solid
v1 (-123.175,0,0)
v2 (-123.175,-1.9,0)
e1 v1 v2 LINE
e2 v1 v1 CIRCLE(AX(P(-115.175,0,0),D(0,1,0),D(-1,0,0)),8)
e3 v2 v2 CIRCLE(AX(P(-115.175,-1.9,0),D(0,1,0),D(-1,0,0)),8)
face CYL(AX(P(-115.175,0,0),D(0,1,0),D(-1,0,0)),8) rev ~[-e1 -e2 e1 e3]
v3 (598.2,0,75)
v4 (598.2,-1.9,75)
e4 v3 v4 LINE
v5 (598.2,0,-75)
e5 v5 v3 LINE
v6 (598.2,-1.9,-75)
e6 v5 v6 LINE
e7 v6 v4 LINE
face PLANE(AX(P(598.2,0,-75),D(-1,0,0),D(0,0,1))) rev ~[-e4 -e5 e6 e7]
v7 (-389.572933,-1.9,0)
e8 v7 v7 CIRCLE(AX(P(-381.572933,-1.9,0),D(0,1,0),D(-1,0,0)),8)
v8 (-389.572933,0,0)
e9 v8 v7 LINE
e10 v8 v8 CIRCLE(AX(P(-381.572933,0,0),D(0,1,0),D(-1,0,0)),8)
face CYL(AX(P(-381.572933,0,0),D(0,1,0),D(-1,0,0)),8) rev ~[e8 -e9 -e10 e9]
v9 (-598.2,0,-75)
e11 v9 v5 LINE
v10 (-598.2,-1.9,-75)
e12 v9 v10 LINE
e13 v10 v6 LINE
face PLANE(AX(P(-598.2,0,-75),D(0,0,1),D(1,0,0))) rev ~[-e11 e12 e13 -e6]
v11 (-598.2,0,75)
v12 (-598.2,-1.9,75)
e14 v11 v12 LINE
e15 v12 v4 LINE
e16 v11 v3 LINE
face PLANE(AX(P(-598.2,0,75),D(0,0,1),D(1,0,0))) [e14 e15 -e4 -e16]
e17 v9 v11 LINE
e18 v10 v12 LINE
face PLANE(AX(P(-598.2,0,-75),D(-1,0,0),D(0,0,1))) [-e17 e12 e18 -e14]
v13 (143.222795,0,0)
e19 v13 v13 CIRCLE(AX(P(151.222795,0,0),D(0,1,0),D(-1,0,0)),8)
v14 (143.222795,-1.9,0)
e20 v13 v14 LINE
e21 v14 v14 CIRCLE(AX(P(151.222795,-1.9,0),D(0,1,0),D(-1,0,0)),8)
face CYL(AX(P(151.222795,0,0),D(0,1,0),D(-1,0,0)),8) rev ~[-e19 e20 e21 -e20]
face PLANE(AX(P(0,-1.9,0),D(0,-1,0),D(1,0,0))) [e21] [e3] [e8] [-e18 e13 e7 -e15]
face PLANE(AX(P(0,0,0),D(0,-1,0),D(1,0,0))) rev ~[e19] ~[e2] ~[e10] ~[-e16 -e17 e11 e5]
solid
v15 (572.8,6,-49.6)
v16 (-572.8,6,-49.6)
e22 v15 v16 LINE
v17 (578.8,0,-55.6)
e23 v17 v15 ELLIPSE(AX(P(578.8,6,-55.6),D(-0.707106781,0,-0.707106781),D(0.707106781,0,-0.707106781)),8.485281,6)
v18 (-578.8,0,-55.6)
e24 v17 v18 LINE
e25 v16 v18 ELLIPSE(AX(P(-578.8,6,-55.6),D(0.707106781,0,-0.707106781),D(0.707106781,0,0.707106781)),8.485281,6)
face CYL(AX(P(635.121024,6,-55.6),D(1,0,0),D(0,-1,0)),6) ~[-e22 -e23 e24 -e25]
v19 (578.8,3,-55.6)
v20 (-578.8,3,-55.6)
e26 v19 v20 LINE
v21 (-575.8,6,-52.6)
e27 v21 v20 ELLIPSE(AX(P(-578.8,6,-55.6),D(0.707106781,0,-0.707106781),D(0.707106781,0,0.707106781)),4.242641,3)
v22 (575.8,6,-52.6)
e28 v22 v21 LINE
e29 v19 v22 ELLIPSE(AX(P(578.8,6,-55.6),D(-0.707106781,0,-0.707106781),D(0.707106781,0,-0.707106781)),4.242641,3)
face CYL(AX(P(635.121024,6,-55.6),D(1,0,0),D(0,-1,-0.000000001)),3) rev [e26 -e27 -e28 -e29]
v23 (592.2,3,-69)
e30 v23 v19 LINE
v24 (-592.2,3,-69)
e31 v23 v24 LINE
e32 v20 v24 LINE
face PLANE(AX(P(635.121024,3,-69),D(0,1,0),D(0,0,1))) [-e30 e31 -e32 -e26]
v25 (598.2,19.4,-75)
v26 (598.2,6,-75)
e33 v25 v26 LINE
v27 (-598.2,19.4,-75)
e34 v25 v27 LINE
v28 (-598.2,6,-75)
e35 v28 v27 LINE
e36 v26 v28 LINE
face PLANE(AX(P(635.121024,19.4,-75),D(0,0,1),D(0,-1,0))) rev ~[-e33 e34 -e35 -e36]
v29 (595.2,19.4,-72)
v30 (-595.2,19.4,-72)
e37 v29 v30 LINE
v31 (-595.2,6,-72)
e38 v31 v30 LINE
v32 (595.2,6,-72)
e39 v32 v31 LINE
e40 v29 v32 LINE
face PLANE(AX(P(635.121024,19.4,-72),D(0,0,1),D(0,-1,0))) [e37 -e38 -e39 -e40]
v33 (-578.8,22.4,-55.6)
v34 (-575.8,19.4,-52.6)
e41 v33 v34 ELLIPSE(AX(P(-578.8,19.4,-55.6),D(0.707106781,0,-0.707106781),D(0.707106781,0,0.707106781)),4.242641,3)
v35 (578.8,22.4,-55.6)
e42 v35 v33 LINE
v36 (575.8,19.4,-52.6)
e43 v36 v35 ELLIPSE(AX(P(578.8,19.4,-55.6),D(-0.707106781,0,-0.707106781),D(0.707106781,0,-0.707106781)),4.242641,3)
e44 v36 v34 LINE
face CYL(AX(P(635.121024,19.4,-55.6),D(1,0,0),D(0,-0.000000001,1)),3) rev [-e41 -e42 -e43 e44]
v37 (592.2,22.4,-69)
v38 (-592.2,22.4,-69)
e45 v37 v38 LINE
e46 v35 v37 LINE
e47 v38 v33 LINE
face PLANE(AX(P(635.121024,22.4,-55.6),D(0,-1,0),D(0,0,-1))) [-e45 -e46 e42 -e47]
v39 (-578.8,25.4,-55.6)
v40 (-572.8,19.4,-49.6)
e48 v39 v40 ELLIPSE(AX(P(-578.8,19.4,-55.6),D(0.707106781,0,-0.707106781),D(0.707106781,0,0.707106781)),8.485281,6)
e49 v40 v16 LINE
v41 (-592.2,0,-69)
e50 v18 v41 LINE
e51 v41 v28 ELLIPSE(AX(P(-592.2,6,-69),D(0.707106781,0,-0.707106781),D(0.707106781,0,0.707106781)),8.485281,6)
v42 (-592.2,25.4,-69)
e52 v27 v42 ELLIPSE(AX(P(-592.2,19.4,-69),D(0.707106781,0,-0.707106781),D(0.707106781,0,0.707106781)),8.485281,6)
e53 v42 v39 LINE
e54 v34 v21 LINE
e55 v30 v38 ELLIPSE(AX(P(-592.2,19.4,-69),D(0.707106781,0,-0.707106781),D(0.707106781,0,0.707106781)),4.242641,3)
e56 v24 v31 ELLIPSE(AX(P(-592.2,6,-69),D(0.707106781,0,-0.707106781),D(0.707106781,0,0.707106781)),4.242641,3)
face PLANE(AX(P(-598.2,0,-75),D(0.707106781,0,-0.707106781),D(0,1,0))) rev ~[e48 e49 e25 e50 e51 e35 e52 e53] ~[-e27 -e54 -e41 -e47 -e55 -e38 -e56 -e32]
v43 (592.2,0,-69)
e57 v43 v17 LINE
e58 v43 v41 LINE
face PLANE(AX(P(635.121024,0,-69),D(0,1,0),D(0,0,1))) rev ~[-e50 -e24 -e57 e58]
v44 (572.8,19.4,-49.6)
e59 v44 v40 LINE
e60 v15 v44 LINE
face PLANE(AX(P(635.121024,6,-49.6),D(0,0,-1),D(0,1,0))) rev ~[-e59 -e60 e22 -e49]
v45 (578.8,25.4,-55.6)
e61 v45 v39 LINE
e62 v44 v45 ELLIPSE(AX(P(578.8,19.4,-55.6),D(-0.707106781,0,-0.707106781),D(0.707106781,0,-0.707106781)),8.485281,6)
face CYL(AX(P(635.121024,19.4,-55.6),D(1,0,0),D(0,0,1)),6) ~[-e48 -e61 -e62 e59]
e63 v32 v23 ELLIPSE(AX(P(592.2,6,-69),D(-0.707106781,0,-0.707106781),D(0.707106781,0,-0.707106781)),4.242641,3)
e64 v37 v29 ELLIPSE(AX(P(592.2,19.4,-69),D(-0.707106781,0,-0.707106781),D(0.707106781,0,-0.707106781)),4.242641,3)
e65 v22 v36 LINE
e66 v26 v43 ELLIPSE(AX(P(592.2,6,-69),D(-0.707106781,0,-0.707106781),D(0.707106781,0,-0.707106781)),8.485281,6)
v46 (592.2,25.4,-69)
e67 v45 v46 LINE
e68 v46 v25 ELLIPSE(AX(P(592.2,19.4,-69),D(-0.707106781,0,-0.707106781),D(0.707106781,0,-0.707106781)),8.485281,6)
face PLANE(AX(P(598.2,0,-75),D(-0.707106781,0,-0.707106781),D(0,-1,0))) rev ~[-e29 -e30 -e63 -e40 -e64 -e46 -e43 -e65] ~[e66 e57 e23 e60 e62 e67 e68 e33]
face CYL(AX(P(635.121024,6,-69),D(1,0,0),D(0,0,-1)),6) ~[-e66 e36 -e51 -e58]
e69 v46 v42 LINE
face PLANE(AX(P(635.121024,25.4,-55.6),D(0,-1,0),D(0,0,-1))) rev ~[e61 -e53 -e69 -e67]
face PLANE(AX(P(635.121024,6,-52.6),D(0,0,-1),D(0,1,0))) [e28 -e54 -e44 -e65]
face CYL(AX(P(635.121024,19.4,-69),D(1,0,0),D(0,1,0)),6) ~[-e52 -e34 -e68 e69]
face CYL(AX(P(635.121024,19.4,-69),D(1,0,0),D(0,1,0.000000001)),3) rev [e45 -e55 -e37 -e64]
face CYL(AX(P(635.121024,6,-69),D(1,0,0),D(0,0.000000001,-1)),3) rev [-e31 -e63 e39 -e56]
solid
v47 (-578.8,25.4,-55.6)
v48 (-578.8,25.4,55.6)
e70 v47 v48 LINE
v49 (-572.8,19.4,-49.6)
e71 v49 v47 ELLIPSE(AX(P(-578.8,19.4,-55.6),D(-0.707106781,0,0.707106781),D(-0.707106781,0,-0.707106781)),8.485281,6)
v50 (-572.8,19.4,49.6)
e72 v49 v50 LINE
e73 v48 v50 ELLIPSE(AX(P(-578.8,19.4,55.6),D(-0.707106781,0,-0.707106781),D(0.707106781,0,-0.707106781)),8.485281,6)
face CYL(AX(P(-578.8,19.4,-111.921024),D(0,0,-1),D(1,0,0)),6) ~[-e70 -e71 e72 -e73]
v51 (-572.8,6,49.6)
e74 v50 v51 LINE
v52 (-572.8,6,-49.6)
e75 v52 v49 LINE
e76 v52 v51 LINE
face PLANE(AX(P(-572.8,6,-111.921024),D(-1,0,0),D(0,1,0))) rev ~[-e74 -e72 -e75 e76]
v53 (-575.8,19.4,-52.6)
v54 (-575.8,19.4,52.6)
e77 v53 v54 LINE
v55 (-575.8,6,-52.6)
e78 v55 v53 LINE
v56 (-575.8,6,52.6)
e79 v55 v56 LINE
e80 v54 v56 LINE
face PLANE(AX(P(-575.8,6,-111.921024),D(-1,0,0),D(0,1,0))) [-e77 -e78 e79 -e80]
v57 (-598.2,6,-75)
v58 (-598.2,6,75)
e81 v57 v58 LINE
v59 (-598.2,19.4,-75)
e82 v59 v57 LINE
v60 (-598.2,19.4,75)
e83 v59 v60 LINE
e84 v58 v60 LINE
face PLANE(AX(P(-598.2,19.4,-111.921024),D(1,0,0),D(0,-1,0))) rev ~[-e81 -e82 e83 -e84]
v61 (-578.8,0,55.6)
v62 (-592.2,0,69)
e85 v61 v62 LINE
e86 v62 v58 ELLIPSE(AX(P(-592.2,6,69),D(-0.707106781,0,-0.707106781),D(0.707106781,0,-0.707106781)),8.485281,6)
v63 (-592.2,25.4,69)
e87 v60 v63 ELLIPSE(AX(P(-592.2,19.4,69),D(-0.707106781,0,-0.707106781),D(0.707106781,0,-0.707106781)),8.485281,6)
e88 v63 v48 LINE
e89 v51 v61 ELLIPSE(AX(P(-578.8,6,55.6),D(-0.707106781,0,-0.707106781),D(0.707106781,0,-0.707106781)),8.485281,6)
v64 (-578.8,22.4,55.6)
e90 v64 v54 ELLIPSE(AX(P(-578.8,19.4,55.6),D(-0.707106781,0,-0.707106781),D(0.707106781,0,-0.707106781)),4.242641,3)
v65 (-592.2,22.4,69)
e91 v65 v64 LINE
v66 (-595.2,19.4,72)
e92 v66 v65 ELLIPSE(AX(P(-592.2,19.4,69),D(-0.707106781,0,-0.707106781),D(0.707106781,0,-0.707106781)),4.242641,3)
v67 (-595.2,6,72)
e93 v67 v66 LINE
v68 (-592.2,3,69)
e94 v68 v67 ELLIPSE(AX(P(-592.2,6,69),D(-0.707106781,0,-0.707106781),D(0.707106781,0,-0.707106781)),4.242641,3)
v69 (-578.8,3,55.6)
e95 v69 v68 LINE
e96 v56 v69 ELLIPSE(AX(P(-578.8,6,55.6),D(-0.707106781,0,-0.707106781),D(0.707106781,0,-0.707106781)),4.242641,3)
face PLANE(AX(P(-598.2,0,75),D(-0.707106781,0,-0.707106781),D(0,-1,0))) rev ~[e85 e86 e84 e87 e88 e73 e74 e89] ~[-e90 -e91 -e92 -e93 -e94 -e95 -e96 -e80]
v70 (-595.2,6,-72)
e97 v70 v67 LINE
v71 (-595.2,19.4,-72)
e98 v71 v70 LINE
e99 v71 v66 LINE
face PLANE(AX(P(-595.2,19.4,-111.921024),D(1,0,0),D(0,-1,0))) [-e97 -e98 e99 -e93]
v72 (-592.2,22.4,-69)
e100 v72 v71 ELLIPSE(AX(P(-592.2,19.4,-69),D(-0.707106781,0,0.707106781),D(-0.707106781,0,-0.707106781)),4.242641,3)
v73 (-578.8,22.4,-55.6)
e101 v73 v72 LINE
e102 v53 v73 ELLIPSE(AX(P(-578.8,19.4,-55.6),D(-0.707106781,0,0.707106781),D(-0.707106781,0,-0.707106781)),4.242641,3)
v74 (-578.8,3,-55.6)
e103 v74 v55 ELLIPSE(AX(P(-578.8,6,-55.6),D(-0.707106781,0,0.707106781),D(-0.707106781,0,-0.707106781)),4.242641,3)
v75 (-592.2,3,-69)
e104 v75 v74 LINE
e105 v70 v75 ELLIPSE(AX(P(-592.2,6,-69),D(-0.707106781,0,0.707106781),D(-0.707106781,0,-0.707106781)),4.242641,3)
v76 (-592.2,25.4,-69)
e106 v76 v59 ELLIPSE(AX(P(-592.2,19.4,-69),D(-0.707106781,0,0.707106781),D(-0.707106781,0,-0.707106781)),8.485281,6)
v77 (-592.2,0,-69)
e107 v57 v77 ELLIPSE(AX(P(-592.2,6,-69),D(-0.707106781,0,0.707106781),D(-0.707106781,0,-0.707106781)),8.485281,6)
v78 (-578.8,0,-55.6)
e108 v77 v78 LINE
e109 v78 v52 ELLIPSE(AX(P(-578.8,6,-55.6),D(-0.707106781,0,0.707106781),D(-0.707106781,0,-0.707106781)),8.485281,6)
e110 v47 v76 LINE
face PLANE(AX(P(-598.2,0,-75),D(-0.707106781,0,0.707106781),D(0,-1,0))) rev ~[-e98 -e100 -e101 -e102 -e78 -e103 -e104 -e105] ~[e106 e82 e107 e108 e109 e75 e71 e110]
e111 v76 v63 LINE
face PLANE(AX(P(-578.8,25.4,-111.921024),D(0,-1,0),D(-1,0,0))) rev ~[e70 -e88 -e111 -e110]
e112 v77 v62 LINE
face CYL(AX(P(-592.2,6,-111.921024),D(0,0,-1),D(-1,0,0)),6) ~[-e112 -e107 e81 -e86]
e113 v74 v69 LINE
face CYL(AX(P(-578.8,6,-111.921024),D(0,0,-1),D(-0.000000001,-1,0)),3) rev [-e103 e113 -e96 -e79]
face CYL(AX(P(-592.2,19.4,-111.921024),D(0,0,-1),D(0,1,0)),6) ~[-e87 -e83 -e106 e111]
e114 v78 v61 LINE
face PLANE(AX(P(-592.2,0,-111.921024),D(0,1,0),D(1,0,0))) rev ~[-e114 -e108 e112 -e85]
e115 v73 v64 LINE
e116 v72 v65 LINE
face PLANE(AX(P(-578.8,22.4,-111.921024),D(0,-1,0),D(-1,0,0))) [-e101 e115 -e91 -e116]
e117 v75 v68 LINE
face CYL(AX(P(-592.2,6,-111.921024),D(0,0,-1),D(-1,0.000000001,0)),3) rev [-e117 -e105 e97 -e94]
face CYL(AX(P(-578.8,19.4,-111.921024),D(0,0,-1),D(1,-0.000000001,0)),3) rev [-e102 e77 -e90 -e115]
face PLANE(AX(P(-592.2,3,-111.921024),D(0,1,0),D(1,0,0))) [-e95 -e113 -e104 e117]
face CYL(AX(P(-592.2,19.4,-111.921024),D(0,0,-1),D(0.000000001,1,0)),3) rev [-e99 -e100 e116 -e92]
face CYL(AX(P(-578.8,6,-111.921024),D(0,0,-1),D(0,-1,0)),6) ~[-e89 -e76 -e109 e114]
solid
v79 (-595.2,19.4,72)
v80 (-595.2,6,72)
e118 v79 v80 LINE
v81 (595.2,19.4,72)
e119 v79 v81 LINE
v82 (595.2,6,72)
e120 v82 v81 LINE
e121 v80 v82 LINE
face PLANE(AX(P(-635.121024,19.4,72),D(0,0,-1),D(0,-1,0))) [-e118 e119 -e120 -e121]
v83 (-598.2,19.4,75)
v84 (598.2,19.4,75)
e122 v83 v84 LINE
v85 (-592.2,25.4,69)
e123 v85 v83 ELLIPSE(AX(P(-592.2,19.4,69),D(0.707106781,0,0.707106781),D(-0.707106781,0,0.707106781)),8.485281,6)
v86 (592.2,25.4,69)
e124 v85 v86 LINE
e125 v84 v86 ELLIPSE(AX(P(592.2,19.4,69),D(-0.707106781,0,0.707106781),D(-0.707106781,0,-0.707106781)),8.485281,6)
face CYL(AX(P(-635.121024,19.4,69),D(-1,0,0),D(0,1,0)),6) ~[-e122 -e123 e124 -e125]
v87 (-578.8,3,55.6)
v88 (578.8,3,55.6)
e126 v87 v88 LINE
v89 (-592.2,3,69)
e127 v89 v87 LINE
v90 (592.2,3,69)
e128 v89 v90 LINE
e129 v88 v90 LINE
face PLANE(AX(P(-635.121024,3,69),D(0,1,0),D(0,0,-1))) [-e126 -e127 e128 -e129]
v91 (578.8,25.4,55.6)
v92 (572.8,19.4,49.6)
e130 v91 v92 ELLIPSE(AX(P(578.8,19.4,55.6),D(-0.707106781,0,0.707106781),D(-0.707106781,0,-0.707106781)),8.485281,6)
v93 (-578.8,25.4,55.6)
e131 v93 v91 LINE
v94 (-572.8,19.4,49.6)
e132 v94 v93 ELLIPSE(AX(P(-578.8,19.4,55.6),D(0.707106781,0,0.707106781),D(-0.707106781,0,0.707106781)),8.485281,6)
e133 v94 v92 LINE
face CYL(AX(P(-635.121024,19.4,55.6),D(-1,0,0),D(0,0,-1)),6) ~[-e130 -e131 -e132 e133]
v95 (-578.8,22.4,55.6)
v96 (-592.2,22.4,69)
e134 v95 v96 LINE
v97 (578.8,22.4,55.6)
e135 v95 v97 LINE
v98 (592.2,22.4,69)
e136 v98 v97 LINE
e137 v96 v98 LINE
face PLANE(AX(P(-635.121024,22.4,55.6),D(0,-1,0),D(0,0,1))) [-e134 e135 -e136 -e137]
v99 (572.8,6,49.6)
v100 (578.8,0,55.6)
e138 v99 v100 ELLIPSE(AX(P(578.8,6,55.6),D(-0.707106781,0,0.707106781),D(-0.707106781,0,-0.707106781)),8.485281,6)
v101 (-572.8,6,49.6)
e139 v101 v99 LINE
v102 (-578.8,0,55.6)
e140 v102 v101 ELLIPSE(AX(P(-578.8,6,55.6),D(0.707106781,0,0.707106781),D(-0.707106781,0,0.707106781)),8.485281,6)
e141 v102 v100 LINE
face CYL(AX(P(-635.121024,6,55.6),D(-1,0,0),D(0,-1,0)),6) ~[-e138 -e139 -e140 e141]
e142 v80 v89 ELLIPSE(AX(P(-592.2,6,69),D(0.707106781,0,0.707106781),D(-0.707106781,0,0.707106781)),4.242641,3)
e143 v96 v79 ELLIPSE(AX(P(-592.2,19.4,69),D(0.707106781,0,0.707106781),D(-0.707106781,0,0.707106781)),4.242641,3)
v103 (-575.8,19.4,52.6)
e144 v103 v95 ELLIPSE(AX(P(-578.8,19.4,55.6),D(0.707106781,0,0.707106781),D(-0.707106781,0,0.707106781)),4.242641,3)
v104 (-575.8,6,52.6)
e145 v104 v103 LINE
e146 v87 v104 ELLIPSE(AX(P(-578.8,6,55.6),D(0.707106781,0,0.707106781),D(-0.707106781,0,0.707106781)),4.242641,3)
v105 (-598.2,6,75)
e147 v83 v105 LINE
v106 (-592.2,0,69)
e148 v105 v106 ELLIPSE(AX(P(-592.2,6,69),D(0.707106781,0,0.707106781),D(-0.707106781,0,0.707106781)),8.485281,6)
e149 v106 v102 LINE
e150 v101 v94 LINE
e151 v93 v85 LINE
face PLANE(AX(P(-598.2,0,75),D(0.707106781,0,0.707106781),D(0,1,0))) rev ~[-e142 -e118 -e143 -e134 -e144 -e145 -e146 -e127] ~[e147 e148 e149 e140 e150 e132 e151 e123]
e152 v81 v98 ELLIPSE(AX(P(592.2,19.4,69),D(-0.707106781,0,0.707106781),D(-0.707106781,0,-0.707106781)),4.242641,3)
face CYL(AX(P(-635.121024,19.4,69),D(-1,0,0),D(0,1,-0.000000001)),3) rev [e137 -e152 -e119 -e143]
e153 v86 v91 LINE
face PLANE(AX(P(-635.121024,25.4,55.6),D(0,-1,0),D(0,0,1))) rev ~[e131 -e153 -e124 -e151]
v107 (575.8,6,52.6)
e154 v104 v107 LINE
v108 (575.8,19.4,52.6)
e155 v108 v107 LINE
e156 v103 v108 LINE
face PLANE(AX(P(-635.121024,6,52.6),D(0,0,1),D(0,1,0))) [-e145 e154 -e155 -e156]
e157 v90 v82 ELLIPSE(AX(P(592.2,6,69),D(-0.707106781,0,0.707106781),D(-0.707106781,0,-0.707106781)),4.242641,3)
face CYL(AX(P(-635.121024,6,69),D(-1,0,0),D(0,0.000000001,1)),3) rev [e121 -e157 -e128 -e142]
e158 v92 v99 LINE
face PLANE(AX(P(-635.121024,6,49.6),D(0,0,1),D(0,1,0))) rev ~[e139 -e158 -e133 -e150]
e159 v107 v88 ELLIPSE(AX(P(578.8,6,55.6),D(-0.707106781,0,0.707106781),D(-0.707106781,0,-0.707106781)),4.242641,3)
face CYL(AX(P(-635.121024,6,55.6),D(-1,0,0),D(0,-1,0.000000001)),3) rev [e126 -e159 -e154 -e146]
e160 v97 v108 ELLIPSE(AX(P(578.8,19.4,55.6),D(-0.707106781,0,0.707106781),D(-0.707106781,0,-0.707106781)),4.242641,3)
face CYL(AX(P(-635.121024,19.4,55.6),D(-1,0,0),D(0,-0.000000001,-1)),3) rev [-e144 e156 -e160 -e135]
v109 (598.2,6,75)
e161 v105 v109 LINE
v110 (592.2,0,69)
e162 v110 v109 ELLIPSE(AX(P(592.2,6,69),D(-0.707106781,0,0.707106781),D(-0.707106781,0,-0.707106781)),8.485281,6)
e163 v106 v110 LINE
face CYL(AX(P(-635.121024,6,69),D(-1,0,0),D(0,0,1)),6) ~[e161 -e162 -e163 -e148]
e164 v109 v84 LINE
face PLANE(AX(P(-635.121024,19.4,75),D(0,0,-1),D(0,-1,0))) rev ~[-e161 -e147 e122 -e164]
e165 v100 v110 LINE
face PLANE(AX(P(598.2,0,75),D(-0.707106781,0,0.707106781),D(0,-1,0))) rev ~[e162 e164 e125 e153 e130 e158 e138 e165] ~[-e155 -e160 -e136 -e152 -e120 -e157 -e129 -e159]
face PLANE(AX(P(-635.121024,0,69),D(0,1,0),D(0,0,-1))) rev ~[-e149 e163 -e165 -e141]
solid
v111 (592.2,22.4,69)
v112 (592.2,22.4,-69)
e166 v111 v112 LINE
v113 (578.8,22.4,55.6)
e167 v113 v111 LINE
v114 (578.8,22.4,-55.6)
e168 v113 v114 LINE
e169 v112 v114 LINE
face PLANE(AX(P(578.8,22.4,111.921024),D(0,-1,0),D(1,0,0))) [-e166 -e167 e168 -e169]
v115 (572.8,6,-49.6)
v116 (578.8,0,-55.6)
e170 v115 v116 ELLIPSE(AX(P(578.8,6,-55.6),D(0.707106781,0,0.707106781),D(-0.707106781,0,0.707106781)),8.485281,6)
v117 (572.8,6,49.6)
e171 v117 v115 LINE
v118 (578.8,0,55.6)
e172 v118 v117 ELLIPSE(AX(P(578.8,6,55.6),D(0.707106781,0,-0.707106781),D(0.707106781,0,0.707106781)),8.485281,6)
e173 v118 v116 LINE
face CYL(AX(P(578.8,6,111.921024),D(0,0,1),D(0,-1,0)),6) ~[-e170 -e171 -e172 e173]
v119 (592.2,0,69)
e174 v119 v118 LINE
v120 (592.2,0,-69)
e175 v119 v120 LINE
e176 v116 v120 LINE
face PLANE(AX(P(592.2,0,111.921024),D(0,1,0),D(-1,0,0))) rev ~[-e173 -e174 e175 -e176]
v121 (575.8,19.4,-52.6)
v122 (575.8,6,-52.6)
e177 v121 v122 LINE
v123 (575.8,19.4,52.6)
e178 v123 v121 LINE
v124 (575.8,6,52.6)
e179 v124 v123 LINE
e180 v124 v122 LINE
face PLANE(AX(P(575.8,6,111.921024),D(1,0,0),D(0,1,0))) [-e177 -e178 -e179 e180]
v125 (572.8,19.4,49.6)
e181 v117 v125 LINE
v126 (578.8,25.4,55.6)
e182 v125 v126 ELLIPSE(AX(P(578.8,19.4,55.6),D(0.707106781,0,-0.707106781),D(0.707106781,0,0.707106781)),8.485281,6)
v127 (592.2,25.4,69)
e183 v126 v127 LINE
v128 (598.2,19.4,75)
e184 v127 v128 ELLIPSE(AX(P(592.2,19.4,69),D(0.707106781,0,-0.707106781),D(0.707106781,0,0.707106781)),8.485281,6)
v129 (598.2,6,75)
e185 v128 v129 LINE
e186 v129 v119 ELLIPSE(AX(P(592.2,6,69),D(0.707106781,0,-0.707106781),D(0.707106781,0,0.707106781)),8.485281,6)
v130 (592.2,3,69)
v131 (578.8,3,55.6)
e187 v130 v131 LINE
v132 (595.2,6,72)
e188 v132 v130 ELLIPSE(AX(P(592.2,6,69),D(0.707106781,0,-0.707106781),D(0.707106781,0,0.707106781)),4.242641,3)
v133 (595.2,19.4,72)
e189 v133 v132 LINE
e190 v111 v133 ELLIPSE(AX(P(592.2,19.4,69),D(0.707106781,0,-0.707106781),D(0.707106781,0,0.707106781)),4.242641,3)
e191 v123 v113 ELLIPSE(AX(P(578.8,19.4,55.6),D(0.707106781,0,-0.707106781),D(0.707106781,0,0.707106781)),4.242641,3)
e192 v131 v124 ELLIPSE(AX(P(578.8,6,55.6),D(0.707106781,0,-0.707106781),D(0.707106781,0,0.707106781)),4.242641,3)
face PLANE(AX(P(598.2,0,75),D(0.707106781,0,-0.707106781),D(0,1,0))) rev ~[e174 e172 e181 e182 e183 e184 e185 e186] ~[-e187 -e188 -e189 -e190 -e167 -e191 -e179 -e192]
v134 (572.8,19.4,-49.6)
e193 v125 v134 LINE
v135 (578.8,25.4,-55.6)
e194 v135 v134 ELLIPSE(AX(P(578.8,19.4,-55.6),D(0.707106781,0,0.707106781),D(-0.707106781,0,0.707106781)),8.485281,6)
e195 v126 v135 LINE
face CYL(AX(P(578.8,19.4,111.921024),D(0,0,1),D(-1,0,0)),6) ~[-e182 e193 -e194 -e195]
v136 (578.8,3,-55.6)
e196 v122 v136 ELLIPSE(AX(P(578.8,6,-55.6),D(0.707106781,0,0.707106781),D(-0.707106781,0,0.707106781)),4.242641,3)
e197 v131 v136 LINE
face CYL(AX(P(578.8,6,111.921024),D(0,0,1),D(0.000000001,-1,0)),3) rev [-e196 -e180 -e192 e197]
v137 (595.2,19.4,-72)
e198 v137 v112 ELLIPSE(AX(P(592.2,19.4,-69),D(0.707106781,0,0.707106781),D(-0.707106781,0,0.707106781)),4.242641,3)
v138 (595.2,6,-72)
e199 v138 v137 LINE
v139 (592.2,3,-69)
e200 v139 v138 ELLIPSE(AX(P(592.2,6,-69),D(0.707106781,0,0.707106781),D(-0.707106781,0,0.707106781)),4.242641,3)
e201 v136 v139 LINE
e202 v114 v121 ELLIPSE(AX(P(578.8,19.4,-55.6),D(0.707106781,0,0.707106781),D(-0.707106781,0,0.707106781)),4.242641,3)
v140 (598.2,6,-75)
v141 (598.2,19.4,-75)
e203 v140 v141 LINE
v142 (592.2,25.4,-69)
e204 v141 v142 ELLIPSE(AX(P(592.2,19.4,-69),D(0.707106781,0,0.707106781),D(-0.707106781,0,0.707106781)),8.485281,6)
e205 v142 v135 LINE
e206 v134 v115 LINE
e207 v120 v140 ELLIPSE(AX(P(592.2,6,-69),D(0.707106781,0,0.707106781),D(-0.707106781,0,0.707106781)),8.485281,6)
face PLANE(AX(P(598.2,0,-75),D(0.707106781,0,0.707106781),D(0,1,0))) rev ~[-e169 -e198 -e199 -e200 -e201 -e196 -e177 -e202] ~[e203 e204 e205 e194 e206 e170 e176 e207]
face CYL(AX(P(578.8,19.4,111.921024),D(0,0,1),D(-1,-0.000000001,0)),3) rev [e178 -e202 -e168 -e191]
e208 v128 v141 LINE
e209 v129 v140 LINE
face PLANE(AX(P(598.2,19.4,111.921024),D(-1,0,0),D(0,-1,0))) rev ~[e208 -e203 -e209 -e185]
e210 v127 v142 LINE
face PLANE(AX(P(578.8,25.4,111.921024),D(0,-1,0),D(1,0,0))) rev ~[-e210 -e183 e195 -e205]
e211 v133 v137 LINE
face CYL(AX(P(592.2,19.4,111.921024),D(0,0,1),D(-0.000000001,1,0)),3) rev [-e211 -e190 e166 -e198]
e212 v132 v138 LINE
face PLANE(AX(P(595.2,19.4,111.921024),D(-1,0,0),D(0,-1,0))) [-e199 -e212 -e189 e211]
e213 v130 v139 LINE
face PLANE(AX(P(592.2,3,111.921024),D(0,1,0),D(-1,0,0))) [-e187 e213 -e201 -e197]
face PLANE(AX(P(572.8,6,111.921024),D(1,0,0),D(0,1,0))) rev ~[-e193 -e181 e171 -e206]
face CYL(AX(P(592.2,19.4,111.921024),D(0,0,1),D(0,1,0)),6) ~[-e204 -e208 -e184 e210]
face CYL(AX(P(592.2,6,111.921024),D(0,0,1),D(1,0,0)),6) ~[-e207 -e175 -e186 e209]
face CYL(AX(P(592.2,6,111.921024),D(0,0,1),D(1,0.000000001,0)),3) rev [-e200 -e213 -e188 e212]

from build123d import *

# Parameters (mm, degrees)
TUBO_CUADRADO_2_X_2_X_0_25_1_DEPTH      = 186.921024484
TUBO_CUADRADO_2_X_2_X_0_25_1_DEPTH_BACK = 36.921024484
TUBO_CUADRADO_2_X_2_X_0_25_1_2_DEPTH    = 1270.242048969
TUBO_CUADRADO_2_X_2_X_0_25_1_3_DEPTH    = 223.842048969
TUBO_CUADRADO_2_X_2_X_0_25_1_4_DEPTH    = 1270.242048969
CROQUIS3_W                              = 1196.4
CROQUIS3_H                              = 150
SALIENTE_EXTRUIR1_DEPTH                 = 1.9
CROQUIS5_R                              = 8
CORTAR_EXTRUIR1_DEPTH                   = 10


with BuildPart() as part:
    # Sketch1 → Tubo cuadrado 2 X 2 X 0.25(1) (new, two sides: drawn at the far end of the back side and taken through both)
    with BuildSketch(Plane(origin=(-585.5, 12.7, -75), x_dir=(1, 0, 0), z_dir=(0, 0, 1)).offset(-TUBO_CUADRADO_2_X_2_X_0_25_1_DEPTH_BACK)):
        with BuildLine():
            Line((-6.7, -12.7), (6.7, -12.7))
            ThreePointArc((6.7, -12.7), (10.942640687, -10.942640687), (12.7, -6.7))
            Line((12.7, -6.7), (12.7, 6.7))
            ThreePointArc((12.7, 6.7), (10.942640687, 10.942640687), (6.7, 12.7))
            Line((6.7, 12.7), (-6.7, 12.7))
            ThreePointArc((-6.7, 12.7), (-10.942640687, 10.942640687), (-12.7, 6.7))
            Line((-12.7, 6.7), (-12.7, -6.7))
            ThreePointArc((-12.7, -6.7), (-10.942640687, -10.942640687), (-6.7, -12.7))
        make_face()
        with BuildLine():
            Line((-6.7, -9.7), (6.7, -9.7))
            ThreePointArc((6.7, -9.7), (8.821320344, -8.821320344), (9.7, -6.7))
            Line((9.7, -6.7), (9.7, 6.7))
            ThreePointArc((9.7, 6.7), (8.821320344, 8.821320344), (6.7, 9.7))
            Line((6.7, 9.7), (-6.7, 9.7))
            ThreePointArc((-6.7, 9.7), (-8.821320344, 8.821320344), (-9.7, 6.7))
            Line((-9.7, 6.7), (-9.7, -6.7))
            ThreePointArc((-9.7, -6.7), (-8.821320344, -8.821320344), (-6.7, -9.7))
        make_face(mode=Mode.SUBTRACT)
    extrude(amount=TUBO_CUADRADO_2_X_2_X_0_25_1_DEPTH + TUBO_CUADRADO_2_X_2_X_0_25_1_DEPTH_BACK)

    # Tubo cuadrado 2 X 2 X 0.25(1) mitre 1
    split(bisect_by=Plane(origin=(-598.2, 0, -75), x_dir=(0, -1, 0), z_dir=(-0.707106781, 0, 0.707106781)), keep=Keep.TOP)

    # Tubo cuadrado 2 X 2 X 0.25(1) mitre 2
    split(bisect_by=Plane(origin=(-598.2, 0, 75), x_dir=(0, -1, 0), z_dir=(-0.707106781, 0, -0.707106781)), keep=Keep.TOP)


with BuildPart() as body_2:
    # Sketch1 on segment 2 (carried to segment 2) → Tubo cuadrado 2 X 2 X 0.25_1 2 (new body)
    with BuildSketch(Plane(origin=(-635.121024484, 12.7, 62.3), x_dir=(0, 0, -1), z_dir=(1, 0, 0))):
        with BuildLine():
            Line((-6.7, -12.7), (6.7, -12.7))
            ThreePointArc((6.7, -12.7), (10.942640687, -10.942640687), (12.7, -6.7))
            Line((12.7, -6.7), (12.7, 6.7))
            ThreePointArc((12.7, 6.7), (10.942640687, 10.942640687), (6.7, 12.7))
            Line((6.7, 12.7), (-6.7, 12.7))
            ThreePointArc((-6.7, 12.7), (-10.942640687, 10.942640687), (-12.7, 6.7))
            Line((-12.7, 6.7), (-12.7, -6.7))
            ThreePointArc((-12.7, -6.7), (-10.942640687, -10.942640687), (-6.7, -12.7))
        make_face()
        with BuildLine():
            Line((-6.7, -9.7), (6.7, -9.7))
            ThreePointArc((6.7, -9.7), (8.821320344, -8.821320344), (9.7, -6.7))
            Line((9.7, -6.7), (9.7, 6.7))
            ThreePointArc((9.7, 6.7), (8.821320344, 8.821320344), (6.7, 9.7))
            Line((6.7, 9.7), (-6.7, 9.7))
            ThreePointArc((-6.7, 9.7), (-8.821320344, 8.821320344), (-9.7, 6.7))
            Line((-9.7, 6.7), (-9.7, -6.7))
            ThreePointArc((-9.7, -6.7), (-8.821320344, -8.821320344), (-6.7, -9.7))
        make_face(mode=Mode.SUBTRACT)
    extrude(amount=TUBO_CUADRADO_2_X_2_X_0_25_1_2_DEPTH)

    # Tubo cuadrado 2 X 2 X 0.25_1 2 mitre 1
    split(bisect_by=Plane(origin=(-598.2, 0, 75), x_dir=(0, 1, 0), z_dir=(0.707106781, 0, 0.707106781)), keep=Keep.TOP)

    # Tubo cuadrado 2 X 2 X 0.25_1 2 mitre 2
    split(bisect_by=Plane(origin=(598.2, 0, 75), x_dir=(0, -1, 0), z_dir=(-0.707106781, 0, 0.707106781)), keep=Keep.TOP)


with BuildPart() as body_3:
    # Sketch1 on segment 3 (carried to segment 3) → Tubo cuadrado 2 X 2 X 0.25_1 3 (new body)
    with BuildSketch(Plane(origin=(585.5, 12.7, 111.921024484), x_dir=(-1, 0, 0), z_dir=(0, 0, -1))):
        with BuildLine():
            Line((-6.7, -12.7), (6.7, -12.7))
            ThreePointArc((6.7, -12.7), (10.942640687, -10.942640687), (12.7, -6.7))
            Line((12.7, -6.7), (12.7, 6.7))
            ThreePointArc((12.7, 6.7), (10.942640687, 10.942640687), (6.7, 12.7))
            Line((6.7, 12.7), (-6.7, 12.7))
            ThreePointArc((-6.7, 12.7), (-10.942640687, 10.942640687), (-12.7, 6.7))
            Line((-12.7, 6.7), (-12.7, -6.7))
            ThreePointArc((-12.7, -6.7), (-10.942640687, -10.942640687), (-6.7, -12.7))
        make_face()
        with BuildLine():
            Line((-6.7, -9.7), (6.7, -9.7))
            ThreePointArc((6.7, -9.7), (8.821320344, -8.821320344), (9.7, -6.7))
            Line((9.7, -6.7), (9.7, 6.7))
            ThreePointArc((9.7, 6.7), (8.821320344, 8.821320344), (6.7, 9.7))
            Line((6.7, 9.7), (-6.7, 9.7))
            ThreePointArc((-6.7, 9.7), (-8.821320344, 8.821320344), (-9.7, 6.7))
            Line((-9.7, 6.7), (-9.7, -6.7))
            ThreePointArc((-9.7, -6.7), (-8.821320344, -8.821320344), (-6.7, -9.7))
        make_face(mode=Mode.SUBTRACT)
    extrude(amount=TUBO_CUADRADO_2_X_2_X_0_25_1_3_DEPTH)

    # Tubo cuadrado 2 X 2 X 0.25_1 3 mitre 1
    split(bisect_by=Plane(origin=(598.2, 0, -75), x_dir=(0, 1, 0), z_dir=(0.707106781, 0, 0.707106781)), keep=Keep.TOP)

    # Tubo cuadrado 2 X 2 X 0.25_1 3 mitre 2
    split(bisect_by=Plane(origin=(598.2, 0, 75), x_dir=(0, 1, 0), z_dir=(0.707106781, 0, -0.707106781)), keep=Keep.TOP)


with BuildPart() as body_4:
    # Sketch1 on segment 4 (carried to segment 4) → Tubo cuadrado 2 X 2 X 0.25_1 4 (new body)
    with BuildSketch(Plane(origin=(635.121024484, 12.7, -62.3), x_dir=(0, 0, 1), z_dir=(-1, 0, 0))):
        with BuildLine():
            Line((-6.7, -12.7), (6.7, -12.7))
            ThreePointArc((6.7, -12.7), (10.942640687, -10.942640687), (12.7, -6.7))
            Line((12.7, -6.7), (12.7, 6.7))
            ThreePointArc((12.7, 6.7), (10.942640687, 10.942640687), (6.7, 12.7))
            Line((6.7, 12.7), (-6.7, 12.7))
            ThreePointArc((-6.7, 12.7), (-10.942640687, 10.942640687), (-12.7, 6.7))
            Line((-12.7, 6.7), (-12.7, -6.7))
            ThreePointArc((-12.7, -6.7), (-10.942640687, -10.942640687), (-6.7, -12.7))
        make_face()
        with BuildLine():
            Line((-6.7, -9.7), (6.7, -9.7))
            ThreePointArc((6.7, -9.7), (8.821320344, -8.821320344), (9.7, -6.7))
            Line((9.7, -6.7), (9.7, 6.7))
            ThreePointArc((9.7, 6.7), (8.821320344, 8.821320344), (6.7, 9.7))
            Line((6.7, 9.7), (-6.7, 9.7))
            ThreePointArc((-6.7, 9.7), (-8.821320344, 8.821320344), (-9.7, 6.7))
            Line((-9.7, 6.7), (-9.7, -6.7))
            ThreePointArc((-9.7, -6.7), (-8.821320344, -8.821320344), (-6.7, -9.7))
        make_face(mode=Mode.SUBTRACT)
    extrude(amount=TUBO_CUADRADO_2_X_2_X_0_25_1_4_DEPTH)

    # Tubo cuadrado 2 X 2 X 0.25_1 4 mitre 1
    split(bisect_by=Plane(origin=(-598.2, 0, -75), x_dir=(0, 1, 0), z_dir=(0.707106781, 0, -0.707106781)), keep=Keep.TOP)

    # Tubo cuadrado 2 X 2 X 0.25_1 4 mitre 2
    split(bisect_by=Plane(origin=(598.2, 0, -75), x_dir=(0, -1, 0), z_dir=(-0.707106781, 0, -0.707106781)), keep=Keep.TOP)


with BuildPart() as body_5:
    # Croquis3 → Saliente-Extruir1 (new body)
    with BuildSketch(Plane.XZ):
        Rectangle(CROQUIS3_W, CROQUIS3_H)
    extrude(amount=SALIENTE_EXTRUIR1_DEPTH)

    # Croquis5 → Cortar-Extruir1 (cut)
    with BuildSketch(Plane(origin=(0, 0, 0), x_dir=(1, 0, 0), z_dir=(0, 1, 0))):
        with Locations(Location((151.222795334, 0, 0), (0, 0, 180))):
            Circle(CROQUIS5_R)
        with Locations(Location((-115.175, 0, 0), (0, 0, 180))):
            Circle(CROQUIS5_R)
        with Locations(Location((-381.572933, 0, 0), (0, 0, 180))):
            Circle(CROQUIS5_R)
    extrude(amount=-CORTAR_EXTRUIR1_DEPTH, mode=Mode.SUBTRACT)


solid = Compound([part.part, body_2.part, body_3.part, body_4.part, body_5.part])
